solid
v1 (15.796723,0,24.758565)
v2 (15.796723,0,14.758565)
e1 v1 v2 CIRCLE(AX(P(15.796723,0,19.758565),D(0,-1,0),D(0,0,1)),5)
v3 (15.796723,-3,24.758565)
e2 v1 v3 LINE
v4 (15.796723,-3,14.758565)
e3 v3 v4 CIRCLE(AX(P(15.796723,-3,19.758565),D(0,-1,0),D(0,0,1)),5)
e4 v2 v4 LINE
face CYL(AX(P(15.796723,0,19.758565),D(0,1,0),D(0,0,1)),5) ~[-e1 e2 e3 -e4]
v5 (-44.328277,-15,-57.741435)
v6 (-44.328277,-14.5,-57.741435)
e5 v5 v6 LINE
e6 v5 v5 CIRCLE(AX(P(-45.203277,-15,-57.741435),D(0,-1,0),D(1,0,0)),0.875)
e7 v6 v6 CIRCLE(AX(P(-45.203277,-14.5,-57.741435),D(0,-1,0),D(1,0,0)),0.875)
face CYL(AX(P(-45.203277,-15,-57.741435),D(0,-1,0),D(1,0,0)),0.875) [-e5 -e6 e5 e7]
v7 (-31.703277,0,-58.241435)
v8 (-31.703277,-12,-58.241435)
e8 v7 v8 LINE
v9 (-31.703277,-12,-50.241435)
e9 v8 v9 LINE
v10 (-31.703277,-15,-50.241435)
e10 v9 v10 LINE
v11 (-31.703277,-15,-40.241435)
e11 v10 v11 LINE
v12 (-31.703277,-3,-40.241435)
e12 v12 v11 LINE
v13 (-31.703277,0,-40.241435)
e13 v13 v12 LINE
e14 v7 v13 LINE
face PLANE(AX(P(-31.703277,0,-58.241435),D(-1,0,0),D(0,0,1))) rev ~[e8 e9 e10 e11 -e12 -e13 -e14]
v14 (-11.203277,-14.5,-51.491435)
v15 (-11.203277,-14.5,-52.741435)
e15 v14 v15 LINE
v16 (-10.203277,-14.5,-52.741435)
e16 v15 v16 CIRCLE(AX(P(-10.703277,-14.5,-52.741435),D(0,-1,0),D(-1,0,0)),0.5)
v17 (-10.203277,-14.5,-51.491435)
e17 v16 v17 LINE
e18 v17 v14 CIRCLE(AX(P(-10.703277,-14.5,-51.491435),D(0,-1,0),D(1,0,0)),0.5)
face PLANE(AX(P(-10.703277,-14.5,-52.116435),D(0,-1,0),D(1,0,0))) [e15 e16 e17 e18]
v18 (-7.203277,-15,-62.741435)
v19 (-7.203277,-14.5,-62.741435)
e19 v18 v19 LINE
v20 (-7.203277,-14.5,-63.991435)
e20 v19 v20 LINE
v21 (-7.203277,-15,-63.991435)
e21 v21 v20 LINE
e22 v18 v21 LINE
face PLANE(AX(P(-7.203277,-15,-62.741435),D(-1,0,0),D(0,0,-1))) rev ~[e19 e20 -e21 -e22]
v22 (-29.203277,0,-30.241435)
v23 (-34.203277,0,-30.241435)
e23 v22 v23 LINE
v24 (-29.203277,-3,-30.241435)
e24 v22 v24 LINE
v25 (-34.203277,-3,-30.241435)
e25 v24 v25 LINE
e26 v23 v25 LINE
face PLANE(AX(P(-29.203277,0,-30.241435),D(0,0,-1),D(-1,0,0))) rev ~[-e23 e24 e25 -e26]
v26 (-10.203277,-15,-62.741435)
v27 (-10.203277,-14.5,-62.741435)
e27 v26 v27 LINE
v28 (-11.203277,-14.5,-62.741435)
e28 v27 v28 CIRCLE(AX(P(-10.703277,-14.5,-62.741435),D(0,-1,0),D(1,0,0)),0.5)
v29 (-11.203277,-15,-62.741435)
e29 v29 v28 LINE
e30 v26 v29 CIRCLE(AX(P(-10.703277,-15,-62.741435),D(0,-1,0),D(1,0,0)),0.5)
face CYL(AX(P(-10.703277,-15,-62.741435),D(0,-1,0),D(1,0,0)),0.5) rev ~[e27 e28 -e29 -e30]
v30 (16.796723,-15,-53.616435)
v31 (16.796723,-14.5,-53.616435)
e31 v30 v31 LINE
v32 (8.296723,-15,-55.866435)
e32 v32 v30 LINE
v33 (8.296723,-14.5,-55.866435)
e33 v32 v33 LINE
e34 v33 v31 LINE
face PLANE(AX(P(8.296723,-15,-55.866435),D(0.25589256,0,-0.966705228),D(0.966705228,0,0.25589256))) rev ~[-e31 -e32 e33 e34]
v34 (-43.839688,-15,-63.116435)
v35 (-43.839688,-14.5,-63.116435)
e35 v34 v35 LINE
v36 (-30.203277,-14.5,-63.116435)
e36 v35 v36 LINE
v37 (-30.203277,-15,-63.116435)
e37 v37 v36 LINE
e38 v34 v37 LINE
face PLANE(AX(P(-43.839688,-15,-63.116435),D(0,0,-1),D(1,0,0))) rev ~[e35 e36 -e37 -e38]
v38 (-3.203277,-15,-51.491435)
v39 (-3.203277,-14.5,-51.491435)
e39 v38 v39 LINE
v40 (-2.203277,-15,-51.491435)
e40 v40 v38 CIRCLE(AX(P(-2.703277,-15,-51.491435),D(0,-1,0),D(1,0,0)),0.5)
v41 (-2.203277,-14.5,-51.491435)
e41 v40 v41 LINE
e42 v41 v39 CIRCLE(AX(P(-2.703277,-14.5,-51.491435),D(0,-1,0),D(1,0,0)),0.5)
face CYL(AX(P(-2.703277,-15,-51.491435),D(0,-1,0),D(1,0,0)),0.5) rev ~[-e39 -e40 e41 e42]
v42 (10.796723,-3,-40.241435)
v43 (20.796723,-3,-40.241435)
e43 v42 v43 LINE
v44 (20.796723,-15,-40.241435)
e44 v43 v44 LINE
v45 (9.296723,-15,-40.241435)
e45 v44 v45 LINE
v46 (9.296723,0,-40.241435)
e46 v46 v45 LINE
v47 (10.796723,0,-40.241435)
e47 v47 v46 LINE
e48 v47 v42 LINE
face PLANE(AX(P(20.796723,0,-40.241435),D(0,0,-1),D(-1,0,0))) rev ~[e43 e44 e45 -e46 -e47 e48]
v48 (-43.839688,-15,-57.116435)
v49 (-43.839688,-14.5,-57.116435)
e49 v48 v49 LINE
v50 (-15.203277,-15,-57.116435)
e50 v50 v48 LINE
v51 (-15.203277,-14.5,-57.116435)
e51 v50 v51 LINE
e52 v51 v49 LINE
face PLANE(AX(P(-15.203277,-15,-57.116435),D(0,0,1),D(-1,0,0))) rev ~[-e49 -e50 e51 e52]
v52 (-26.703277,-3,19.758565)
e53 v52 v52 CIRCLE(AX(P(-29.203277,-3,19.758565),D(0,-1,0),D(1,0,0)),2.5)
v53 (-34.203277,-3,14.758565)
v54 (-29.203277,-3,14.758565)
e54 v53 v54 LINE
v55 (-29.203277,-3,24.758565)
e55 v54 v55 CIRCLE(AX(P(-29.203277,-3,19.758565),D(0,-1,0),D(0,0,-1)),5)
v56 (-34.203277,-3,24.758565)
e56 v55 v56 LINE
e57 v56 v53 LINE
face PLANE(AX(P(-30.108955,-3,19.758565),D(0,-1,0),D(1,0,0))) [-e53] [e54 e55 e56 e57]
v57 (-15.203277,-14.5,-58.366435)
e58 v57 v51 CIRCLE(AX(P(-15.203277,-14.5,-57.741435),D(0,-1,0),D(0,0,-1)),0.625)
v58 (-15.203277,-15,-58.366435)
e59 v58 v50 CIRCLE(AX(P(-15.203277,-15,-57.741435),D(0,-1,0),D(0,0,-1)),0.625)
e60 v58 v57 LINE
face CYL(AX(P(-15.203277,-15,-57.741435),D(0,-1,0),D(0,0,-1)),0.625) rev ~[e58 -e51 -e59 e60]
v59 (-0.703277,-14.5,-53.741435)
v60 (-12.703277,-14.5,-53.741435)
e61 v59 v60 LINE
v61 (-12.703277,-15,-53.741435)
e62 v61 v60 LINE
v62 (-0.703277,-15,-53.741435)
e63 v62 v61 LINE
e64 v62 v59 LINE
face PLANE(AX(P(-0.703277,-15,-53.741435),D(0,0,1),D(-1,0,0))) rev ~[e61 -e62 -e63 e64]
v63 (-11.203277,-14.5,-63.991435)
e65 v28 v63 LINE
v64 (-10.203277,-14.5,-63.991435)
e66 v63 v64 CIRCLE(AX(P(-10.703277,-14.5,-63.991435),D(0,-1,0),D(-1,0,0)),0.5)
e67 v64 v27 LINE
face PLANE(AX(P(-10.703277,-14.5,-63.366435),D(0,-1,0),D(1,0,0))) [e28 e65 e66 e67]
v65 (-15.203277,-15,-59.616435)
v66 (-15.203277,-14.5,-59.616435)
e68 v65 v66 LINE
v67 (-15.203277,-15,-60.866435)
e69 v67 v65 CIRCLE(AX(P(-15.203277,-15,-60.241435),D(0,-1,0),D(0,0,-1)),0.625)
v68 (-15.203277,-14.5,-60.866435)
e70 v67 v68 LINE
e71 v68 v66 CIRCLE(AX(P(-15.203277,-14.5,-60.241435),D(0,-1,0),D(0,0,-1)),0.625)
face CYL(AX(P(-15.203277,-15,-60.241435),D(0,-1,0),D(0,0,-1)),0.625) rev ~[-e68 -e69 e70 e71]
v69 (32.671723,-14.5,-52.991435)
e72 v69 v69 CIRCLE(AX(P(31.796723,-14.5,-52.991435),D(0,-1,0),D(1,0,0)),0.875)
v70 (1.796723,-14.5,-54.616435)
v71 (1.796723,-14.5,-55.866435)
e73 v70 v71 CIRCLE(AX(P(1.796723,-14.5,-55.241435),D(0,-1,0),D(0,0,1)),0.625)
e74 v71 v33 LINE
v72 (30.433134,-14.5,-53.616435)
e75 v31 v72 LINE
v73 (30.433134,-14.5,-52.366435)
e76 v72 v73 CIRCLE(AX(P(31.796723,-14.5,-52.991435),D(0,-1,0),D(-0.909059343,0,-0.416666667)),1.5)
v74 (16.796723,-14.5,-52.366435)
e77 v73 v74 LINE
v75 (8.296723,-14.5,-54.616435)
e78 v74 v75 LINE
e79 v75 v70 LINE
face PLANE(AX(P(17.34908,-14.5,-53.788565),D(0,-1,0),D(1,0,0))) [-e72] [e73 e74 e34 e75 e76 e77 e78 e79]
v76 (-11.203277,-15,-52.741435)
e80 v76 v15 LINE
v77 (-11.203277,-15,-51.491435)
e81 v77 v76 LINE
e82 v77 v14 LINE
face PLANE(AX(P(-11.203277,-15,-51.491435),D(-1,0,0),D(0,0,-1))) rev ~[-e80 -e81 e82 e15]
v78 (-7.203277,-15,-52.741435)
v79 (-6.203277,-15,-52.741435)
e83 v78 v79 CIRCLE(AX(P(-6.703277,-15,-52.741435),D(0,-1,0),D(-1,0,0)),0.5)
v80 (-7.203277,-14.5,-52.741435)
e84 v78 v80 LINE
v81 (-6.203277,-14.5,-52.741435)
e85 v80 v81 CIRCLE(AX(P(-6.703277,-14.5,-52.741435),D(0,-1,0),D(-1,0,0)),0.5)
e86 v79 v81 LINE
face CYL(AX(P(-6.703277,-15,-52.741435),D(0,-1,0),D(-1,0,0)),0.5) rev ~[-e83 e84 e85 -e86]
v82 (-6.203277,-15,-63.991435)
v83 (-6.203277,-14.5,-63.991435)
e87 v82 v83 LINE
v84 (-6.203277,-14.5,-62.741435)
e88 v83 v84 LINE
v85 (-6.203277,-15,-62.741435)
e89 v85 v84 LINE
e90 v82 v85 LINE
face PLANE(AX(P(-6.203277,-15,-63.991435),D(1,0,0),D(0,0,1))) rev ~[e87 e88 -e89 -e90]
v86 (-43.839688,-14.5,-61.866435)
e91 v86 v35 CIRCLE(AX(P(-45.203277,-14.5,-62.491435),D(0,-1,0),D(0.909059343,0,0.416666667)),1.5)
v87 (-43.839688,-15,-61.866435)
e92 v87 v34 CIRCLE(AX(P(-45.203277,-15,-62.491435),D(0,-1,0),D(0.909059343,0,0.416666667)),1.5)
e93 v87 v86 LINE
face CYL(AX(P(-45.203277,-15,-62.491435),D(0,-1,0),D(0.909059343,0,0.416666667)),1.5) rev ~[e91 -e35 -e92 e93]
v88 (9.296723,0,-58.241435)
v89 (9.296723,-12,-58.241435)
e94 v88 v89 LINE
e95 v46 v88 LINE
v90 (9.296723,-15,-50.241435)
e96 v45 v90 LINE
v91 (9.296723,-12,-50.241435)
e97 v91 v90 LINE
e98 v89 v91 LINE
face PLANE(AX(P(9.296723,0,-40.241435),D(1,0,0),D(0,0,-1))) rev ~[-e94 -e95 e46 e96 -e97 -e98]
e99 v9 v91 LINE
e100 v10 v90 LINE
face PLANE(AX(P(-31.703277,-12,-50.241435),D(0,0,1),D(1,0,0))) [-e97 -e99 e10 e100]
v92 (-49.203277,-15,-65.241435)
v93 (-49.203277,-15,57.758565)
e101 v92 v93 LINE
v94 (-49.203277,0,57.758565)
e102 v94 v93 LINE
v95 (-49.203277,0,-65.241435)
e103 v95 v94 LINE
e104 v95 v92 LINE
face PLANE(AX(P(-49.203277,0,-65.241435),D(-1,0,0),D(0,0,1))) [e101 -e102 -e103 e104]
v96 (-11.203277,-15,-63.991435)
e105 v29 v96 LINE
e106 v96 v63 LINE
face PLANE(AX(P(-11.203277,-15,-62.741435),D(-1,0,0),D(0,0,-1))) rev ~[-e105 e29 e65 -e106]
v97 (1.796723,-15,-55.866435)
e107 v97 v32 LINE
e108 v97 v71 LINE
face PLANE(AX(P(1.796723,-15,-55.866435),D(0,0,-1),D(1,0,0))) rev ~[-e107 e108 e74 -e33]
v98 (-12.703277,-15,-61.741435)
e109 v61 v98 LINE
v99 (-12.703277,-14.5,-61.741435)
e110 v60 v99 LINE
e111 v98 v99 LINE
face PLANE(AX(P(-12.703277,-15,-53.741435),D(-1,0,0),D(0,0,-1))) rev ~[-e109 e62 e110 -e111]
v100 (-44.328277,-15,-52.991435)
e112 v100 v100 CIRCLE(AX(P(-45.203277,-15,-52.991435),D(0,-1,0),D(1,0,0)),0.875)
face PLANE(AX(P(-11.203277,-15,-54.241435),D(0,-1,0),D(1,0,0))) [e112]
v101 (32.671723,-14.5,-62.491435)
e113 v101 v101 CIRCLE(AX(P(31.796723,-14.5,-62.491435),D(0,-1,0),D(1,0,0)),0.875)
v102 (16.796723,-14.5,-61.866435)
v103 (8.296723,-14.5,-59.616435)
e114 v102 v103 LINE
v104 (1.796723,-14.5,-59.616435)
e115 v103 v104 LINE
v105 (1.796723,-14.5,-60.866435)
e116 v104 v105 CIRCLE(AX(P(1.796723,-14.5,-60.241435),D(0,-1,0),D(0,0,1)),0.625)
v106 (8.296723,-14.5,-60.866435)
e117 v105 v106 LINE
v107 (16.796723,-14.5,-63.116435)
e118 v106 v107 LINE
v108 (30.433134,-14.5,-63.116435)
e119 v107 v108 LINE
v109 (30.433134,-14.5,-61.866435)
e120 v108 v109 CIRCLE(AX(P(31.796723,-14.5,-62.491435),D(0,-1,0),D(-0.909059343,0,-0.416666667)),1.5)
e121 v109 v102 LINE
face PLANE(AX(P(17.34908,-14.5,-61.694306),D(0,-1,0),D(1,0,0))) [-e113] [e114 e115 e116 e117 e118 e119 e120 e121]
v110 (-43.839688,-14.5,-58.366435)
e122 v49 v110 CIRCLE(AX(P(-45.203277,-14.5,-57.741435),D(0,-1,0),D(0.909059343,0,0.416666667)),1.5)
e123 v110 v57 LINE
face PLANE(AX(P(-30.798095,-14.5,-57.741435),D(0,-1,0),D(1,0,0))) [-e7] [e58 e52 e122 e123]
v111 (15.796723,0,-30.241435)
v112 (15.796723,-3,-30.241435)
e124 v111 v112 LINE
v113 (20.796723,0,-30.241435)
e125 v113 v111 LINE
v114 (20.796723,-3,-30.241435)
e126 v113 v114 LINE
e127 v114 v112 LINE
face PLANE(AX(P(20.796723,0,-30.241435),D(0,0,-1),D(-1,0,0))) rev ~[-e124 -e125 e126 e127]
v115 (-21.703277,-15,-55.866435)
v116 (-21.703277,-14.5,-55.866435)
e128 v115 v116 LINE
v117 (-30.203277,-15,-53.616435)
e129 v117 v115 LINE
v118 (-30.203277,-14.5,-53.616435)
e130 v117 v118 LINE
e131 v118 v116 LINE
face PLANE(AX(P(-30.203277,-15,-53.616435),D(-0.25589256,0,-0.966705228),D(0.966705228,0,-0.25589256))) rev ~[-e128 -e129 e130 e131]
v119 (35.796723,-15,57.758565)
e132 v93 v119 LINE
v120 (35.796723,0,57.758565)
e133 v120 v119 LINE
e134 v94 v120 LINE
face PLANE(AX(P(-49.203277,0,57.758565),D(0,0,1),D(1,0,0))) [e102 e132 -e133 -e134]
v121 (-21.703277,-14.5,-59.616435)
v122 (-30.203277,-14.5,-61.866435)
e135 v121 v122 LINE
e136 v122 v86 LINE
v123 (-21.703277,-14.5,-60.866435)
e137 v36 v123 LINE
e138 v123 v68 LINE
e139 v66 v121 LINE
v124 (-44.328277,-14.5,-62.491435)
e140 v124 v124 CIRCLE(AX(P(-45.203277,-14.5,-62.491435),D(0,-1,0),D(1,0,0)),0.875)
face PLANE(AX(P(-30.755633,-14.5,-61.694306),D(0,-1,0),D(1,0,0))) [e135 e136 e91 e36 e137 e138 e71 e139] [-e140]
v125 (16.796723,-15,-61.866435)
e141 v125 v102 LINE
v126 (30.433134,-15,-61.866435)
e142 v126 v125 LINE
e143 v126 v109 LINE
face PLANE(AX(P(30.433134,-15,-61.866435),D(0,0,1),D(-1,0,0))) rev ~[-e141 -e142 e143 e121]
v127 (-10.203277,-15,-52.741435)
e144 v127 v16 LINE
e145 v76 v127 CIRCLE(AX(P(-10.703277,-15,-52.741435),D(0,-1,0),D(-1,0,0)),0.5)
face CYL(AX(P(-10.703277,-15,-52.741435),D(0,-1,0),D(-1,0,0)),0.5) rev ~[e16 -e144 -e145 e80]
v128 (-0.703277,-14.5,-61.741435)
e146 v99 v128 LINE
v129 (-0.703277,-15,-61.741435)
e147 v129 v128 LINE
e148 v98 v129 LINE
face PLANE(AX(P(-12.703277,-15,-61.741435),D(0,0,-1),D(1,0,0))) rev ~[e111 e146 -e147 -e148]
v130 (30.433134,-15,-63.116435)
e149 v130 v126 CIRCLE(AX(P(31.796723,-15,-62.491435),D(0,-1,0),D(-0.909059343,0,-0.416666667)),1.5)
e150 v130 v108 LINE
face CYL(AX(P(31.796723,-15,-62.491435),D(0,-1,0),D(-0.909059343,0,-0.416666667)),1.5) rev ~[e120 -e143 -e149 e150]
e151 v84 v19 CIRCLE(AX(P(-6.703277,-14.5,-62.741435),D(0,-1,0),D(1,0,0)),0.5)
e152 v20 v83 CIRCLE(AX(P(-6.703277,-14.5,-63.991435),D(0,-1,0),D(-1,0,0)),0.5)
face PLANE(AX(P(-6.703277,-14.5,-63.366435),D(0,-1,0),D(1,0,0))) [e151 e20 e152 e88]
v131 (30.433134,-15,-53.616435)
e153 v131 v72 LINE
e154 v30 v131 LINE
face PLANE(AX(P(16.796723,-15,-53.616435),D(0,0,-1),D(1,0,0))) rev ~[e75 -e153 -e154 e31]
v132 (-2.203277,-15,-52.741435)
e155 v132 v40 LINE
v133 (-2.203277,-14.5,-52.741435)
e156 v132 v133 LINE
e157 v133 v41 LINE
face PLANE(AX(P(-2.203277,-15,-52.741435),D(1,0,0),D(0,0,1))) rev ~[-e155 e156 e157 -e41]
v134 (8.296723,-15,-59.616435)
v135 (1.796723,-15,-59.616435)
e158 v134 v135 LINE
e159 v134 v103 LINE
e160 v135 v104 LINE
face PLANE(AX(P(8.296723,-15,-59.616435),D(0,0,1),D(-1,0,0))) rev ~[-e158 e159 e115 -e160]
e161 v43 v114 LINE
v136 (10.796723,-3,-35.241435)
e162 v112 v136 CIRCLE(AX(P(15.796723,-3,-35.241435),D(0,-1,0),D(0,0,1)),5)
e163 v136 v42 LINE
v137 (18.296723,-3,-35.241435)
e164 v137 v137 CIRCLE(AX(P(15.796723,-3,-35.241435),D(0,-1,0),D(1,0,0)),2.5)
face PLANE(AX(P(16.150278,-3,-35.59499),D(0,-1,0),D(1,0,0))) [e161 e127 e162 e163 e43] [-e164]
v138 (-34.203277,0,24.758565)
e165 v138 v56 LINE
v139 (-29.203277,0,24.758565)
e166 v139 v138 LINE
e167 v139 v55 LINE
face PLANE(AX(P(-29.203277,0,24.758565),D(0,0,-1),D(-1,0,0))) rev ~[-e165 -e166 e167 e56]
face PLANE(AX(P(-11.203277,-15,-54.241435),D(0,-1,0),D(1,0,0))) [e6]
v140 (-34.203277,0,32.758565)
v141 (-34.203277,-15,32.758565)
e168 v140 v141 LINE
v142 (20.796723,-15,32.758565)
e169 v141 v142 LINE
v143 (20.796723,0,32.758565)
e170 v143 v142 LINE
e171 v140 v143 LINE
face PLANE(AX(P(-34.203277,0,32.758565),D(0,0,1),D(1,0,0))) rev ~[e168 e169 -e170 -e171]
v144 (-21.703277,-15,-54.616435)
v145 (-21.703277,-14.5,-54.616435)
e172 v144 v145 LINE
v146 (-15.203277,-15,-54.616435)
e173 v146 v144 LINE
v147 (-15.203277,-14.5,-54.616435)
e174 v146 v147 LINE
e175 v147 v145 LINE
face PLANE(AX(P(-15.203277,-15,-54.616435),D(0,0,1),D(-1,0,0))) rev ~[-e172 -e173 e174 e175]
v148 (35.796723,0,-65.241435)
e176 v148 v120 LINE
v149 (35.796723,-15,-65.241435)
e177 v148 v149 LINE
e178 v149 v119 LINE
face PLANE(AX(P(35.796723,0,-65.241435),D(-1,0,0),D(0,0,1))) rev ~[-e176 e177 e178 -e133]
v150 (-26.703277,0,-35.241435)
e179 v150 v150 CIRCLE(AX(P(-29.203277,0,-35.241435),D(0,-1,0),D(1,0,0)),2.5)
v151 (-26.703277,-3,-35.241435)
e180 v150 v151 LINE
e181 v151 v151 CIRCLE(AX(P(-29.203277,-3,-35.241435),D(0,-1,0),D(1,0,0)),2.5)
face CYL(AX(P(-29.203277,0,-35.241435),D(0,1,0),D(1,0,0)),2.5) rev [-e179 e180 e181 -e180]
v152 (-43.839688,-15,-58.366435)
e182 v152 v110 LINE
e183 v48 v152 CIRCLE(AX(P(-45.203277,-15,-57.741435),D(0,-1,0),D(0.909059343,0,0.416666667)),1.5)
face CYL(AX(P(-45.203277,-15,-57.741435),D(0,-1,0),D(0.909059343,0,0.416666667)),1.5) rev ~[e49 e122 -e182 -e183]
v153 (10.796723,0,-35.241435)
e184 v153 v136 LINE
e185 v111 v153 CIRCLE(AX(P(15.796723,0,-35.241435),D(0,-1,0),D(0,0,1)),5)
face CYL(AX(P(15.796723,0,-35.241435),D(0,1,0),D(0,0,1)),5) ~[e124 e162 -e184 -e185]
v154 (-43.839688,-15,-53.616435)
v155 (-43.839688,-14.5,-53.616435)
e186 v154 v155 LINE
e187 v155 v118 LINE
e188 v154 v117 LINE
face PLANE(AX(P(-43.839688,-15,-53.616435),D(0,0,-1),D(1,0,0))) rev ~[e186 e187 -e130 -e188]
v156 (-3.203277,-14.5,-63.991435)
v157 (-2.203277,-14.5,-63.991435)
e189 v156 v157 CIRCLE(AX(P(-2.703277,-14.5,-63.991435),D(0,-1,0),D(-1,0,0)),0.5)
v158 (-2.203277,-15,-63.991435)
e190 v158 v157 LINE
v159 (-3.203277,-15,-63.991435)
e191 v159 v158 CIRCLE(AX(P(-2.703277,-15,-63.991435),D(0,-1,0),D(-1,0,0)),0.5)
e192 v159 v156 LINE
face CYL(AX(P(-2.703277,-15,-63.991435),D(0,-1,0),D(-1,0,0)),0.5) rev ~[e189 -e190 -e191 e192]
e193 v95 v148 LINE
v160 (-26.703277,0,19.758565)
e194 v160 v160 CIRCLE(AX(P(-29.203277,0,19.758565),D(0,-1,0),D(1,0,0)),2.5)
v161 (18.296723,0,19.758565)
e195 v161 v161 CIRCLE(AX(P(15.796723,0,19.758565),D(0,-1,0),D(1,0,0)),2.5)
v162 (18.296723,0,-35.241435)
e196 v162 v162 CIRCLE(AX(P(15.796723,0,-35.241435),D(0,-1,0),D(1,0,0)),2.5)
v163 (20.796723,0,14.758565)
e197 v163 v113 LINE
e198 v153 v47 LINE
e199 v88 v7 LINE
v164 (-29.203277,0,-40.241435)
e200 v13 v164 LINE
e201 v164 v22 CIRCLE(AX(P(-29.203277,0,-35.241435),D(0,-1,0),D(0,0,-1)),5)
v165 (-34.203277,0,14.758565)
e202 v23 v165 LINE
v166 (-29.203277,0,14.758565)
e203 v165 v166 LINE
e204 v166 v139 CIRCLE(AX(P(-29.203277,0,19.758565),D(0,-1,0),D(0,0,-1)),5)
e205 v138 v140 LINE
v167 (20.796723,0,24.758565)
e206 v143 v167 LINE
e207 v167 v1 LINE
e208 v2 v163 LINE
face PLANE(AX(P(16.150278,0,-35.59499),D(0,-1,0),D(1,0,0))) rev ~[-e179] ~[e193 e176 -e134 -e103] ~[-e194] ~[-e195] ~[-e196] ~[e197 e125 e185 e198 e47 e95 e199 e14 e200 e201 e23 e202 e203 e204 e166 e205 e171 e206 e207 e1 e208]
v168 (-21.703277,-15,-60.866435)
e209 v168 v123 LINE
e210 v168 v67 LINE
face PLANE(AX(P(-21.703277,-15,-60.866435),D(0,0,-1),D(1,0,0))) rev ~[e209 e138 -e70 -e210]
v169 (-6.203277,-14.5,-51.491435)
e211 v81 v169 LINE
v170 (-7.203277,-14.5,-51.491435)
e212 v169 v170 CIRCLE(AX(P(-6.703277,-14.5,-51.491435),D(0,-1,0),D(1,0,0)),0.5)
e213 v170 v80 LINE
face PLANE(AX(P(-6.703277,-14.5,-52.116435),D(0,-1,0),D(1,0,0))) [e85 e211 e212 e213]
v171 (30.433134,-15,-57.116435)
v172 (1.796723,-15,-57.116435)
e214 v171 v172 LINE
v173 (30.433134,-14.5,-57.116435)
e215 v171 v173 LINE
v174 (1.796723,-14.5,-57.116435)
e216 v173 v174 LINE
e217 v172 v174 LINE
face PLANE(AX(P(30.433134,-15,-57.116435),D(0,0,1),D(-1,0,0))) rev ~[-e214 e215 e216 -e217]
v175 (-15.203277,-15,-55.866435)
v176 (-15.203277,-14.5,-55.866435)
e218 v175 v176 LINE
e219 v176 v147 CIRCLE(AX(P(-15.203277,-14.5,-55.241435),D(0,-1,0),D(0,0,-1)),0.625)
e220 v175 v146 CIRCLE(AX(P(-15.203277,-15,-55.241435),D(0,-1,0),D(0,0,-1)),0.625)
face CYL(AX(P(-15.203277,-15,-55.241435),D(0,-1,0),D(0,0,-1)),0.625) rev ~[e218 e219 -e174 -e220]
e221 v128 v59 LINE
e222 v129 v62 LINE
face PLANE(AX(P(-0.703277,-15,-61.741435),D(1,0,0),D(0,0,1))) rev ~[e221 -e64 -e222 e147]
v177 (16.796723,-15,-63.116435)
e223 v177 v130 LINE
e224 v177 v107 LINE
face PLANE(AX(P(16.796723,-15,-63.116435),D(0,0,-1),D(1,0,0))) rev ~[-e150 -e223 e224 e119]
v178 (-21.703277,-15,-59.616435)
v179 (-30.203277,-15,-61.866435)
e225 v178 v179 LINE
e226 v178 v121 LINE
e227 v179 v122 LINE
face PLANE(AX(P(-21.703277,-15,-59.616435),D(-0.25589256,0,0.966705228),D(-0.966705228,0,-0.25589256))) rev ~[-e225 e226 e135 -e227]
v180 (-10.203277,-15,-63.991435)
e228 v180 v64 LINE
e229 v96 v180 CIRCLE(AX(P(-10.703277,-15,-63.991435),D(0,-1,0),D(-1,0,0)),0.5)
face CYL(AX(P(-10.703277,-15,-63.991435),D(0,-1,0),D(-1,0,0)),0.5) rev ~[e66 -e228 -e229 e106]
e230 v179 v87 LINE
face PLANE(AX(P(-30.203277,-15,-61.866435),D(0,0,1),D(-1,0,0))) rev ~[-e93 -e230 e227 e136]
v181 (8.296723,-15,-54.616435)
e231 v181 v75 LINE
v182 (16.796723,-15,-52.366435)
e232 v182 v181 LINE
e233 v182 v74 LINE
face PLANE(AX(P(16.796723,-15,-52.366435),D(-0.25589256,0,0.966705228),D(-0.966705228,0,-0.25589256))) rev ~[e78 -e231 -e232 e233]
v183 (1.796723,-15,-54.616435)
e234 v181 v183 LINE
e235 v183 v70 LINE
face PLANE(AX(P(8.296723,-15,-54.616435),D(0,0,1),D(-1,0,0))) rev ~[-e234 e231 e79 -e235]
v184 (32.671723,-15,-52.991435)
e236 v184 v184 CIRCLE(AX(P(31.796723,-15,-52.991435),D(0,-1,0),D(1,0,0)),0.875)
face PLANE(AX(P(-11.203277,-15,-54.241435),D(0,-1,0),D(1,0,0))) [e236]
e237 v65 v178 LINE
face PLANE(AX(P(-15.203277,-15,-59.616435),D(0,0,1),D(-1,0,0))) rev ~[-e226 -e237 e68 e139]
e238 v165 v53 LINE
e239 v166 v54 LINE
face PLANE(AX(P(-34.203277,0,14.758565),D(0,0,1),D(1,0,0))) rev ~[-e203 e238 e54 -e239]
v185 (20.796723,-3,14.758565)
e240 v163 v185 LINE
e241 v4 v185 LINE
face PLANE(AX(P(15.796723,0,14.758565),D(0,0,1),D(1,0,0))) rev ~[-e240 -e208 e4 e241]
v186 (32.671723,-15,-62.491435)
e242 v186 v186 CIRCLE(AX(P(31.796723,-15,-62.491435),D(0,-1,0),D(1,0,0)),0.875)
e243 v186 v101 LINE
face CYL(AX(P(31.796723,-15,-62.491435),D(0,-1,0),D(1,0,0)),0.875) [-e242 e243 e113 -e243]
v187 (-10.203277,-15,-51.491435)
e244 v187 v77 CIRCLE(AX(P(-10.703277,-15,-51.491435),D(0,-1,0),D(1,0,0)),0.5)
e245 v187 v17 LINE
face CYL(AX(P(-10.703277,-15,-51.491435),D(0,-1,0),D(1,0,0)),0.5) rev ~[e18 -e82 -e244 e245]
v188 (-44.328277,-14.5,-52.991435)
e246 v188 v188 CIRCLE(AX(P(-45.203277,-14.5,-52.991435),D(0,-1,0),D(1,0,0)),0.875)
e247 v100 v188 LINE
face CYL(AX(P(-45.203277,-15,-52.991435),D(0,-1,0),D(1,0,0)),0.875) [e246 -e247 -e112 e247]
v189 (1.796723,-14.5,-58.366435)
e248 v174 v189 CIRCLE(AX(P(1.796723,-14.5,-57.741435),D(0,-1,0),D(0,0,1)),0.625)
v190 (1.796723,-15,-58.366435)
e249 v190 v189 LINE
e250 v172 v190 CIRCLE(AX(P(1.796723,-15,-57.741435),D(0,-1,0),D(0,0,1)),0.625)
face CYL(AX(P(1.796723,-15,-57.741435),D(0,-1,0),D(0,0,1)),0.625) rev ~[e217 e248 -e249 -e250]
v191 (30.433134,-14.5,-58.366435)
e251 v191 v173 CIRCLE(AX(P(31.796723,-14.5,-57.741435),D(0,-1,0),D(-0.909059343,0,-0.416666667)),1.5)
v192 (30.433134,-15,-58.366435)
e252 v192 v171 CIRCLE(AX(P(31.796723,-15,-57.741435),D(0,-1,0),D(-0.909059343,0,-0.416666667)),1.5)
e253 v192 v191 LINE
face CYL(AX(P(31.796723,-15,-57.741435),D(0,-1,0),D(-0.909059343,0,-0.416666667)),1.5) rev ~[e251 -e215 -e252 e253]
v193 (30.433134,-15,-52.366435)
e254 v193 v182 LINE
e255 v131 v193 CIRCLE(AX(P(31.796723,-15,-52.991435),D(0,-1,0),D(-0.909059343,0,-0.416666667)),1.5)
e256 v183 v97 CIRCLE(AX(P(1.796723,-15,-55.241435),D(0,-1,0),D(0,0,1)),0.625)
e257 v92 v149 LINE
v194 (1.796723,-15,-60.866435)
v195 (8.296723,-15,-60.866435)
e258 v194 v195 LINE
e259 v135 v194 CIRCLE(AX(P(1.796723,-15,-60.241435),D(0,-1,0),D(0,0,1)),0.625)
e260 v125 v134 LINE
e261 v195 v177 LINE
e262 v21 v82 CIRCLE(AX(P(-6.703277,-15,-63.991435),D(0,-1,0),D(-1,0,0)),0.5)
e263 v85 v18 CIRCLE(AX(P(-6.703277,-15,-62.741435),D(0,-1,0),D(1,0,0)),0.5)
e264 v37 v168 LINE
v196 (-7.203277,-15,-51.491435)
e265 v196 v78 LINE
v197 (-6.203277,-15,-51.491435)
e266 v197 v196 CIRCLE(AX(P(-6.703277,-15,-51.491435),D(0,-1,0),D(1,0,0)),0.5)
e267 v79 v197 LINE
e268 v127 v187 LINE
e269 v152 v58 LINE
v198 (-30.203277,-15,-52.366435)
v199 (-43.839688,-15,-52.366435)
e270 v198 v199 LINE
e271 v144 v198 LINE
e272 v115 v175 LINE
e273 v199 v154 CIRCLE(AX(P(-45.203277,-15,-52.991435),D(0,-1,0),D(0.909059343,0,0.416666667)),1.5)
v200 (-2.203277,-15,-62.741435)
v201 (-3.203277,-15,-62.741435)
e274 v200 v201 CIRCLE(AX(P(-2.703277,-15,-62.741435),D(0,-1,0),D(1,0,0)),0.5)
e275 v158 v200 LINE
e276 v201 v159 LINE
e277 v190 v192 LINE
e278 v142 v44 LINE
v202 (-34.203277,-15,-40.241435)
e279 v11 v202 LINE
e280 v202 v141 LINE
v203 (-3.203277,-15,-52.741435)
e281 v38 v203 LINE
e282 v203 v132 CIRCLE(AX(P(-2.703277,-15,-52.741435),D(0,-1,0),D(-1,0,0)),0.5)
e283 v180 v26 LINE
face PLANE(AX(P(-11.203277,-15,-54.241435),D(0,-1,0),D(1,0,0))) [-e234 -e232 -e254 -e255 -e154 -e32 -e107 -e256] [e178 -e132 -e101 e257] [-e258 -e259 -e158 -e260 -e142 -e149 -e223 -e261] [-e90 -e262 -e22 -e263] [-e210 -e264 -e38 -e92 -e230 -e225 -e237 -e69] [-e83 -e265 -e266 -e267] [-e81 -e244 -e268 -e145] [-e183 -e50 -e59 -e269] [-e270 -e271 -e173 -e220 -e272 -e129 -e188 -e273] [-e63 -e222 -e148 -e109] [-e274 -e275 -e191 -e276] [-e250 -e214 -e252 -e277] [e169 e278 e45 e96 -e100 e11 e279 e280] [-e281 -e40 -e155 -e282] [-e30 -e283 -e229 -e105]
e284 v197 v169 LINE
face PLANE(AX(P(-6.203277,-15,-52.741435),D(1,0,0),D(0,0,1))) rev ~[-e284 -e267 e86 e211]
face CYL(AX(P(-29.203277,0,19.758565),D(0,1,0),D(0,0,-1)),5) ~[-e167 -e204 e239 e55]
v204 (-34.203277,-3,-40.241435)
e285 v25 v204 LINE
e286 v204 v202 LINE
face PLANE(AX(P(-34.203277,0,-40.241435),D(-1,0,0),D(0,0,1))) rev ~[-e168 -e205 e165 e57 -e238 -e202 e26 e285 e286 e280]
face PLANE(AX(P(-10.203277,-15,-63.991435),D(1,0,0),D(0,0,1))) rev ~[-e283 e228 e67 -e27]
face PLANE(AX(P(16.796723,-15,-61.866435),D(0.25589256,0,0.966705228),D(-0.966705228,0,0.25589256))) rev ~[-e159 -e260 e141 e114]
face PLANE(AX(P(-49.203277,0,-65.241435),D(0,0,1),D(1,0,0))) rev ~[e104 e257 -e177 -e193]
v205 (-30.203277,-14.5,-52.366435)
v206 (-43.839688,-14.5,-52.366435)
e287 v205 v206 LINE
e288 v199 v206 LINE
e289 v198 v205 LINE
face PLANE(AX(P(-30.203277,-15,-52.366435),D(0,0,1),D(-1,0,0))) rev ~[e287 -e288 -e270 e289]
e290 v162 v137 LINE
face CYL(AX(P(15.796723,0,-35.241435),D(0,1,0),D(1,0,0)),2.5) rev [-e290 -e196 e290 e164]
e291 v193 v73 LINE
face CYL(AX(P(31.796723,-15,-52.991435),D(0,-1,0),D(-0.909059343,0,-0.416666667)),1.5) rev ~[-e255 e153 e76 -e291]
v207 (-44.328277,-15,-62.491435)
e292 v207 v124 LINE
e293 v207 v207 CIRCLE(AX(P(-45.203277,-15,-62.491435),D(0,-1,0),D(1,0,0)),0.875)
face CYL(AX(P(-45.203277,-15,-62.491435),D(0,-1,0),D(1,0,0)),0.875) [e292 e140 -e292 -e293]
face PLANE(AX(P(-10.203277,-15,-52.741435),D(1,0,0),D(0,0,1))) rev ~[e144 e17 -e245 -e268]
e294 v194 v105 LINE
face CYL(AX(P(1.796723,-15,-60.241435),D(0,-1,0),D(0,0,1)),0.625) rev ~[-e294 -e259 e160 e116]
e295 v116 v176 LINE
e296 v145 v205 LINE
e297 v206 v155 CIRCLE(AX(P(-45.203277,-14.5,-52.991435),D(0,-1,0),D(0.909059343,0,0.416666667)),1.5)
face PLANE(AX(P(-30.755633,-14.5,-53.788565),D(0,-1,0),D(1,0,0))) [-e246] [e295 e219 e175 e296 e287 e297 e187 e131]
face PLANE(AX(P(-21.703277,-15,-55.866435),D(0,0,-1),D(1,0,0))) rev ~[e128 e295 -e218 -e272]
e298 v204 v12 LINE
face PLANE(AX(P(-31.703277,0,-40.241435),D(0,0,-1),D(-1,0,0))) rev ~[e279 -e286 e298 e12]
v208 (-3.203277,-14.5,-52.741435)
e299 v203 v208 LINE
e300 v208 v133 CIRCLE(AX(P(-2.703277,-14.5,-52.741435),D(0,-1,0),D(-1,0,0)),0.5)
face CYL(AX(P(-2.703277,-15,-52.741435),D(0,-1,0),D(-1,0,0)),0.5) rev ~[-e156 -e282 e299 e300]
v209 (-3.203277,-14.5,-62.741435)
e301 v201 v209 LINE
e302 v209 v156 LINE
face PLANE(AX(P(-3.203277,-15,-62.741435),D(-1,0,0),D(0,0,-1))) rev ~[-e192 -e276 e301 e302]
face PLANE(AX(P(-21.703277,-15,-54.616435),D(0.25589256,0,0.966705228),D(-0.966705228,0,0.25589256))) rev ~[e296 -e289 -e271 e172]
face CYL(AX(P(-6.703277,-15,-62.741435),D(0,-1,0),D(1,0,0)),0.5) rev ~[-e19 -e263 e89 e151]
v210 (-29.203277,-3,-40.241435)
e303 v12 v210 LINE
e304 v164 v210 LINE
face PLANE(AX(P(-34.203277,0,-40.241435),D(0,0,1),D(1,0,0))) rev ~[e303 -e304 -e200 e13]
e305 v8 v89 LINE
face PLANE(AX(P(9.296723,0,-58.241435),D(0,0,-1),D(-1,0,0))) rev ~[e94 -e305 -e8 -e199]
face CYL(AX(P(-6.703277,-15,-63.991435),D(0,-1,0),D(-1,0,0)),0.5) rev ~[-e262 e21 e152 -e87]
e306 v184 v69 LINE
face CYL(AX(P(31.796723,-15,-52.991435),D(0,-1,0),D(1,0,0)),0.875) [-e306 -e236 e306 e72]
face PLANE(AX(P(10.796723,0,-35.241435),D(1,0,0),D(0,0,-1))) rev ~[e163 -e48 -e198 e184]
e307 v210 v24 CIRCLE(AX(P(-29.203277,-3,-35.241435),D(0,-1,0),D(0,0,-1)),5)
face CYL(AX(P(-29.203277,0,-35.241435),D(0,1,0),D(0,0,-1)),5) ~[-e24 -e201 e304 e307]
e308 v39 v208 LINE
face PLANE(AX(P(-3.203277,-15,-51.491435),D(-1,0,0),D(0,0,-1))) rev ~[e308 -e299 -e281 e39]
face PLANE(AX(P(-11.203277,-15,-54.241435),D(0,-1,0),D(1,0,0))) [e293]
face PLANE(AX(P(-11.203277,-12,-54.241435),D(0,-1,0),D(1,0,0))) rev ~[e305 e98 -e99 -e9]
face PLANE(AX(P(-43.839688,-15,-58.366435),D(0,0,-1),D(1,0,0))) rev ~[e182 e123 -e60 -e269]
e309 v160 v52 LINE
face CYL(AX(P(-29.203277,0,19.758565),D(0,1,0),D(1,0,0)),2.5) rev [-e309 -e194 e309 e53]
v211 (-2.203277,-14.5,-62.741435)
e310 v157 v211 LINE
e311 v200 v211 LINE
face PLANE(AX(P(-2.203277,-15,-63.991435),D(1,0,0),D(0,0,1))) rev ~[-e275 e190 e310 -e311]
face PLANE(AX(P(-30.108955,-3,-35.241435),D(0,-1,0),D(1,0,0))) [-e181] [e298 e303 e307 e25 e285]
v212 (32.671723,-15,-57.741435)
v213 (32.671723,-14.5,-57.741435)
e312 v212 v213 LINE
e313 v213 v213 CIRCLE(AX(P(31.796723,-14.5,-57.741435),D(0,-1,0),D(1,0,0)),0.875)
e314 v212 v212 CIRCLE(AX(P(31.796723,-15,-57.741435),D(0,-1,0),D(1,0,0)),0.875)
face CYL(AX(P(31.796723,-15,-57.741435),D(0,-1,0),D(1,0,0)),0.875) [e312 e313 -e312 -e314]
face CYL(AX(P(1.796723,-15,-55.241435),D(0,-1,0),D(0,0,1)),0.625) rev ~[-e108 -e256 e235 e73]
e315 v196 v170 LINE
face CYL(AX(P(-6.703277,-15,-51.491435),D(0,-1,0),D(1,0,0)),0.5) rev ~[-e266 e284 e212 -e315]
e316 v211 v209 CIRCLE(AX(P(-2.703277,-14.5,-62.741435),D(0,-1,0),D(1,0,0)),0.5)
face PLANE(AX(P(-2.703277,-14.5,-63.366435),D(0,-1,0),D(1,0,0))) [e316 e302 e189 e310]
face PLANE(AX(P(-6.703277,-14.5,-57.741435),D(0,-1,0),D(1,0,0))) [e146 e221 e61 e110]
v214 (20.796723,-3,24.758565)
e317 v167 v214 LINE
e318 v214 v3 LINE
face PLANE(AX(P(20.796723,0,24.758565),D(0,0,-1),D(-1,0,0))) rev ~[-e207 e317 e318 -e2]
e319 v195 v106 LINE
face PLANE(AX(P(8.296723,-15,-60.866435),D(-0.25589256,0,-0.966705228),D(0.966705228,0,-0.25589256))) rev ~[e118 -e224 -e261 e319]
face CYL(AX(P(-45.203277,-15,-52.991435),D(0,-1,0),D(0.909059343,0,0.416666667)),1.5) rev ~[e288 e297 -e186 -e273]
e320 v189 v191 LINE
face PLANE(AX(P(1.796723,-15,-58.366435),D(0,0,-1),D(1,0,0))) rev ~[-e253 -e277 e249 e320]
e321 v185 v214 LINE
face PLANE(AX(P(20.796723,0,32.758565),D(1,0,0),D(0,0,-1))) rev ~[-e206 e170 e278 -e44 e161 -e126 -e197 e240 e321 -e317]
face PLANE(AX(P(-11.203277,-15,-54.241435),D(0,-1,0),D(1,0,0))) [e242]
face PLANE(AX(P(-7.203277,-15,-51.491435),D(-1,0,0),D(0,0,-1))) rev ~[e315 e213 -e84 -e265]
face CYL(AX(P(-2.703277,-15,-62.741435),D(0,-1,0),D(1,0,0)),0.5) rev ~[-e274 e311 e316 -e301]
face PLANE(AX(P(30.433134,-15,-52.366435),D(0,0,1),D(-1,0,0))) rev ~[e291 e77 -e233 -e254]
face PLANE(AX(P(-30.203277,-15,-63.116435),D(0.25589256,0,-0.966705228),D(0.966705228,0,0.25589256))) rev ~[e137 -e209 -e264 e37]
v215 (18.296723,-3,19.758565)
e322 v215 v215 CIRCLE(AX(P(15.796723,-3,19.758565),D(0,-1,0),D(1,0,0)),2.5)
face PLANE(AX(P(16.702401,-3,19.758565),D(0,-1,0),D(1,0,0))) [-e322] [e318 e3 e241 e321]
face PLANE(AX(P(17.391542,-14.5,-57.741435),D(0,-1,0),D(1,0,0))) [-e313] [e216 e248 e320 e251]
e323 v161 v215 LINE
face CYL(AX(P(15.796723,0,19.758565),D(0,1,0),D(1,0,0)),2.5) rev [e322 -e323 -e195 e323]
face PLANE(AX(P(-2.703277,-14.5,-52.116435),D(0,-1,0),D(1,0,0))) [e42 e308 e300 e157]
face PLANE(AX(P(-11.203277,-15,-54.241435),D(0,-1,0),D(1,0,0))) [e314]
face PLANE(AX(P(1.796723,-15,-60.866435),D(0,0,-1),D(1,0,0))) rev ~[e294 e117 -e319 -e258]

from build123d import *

# Parameters (mm, degrees)
F0_W     = 85
F0_H     = 123
F1_DEPTH = 15
F0_R     = 2.5
F2_DEPTH = 3
F3_START = 12
F0_W_2   = 41
F0_H_2   = 8
F3_DEPTH = 3
F4_R     = 0.875
F5_DEPTH = 0.5


with BuildPart() as f1:
    # F0 (on Front) → F1 (new body)
    with BuildSketch(Plane.XZ):
        with Locations((-6.7032766342, -3.7414353937)):
            Rectangle(F0_W, F0_H)
        Polygon((-34.2032766342, 24.7585646063), (-34.2032766342, 32.7585646063), (20.7967233658, 32.7585646063), (20.7967233658, 24.7585646063), (20.7967233658, 14.7585646063), (20.7967233658, -30.2414353937), (20.7967233658, -40.2414353937), (15.7967233658, -40.2414353937), (10.7967233658, -40.2414353937), (9.2967233658, -40.2414353937), (9.2967233658, -50.2414353937), (9.2967233658, -58.2414353937), (-31.7032766342, -58.2414353937), (-31.7032766342, -50.2414353937), (-31.7032766342, -40.2414353937), (-34.2032766342, -40.2414353937), (-34.2032766342, -30.2414353937), (-34.2032766342, 14.7585646063), align=None, mode=Mode.SUBTRACT)
    extrude(amount=F1_DEPTH)

    # F0 (on Front) → F2 (join)
    with BuildSketch(Plane.XZ):
        with BuildLine():
            Line((-29.2032766342, 24.7585646063), (-34.2032766342, 24.7585646063))
            Line((-34.2032766342, 24.7585646063), (-34.2032766342, 14.7585646063))
            Line((-34.2032766342, 14.7585646063), (-29.2032766342, 14.7585646063))
            ThreePointArc((-29.2032766342, 14.7585646063), (-24.2032766342, 19.7585646063), (-29.2032766342, 24.7585646063))
        make_face()
        with Locations((-29.2032766342, 19.7585646063)):
            Circle(F0_R, mode=Mode.SUBTRACT)
        with BuildLine():
            Line((20.7967233658, 14.7585646063), (20.7967233658, 24.7585646063))
            Line((20.7967233658, 24.7585646063), (15.7967233658, 24.7585646063))
            ThreePointArc((15.7967233658, 24.7585646063), (10.7967233658, 19.7585646063), (15.7967233658, 14.7585646063))
            Line((15.7967233658, 14.7585646063), (20.7967233658, 14.7585646063))
        make_face()
        with Locations((15.7967233658, 19.7585646063)):
            Circle(F0_R, mode=Mode.SUBTRACT)
        with BuildLine():
            Line((20.7967233658, -40.2414353937), (20.7967233658, -30.2414353937))
            Line((20.7967233658, -30.2414353937), (15.7967233658, -30.2414353937))
            ThreePointArc((15.7967233658, -30.2414353937), (12.2611894599, -31.7059014878), (10.7967233658, -35.2414353937))
            Line((10.7967233658, -35.2414353937), (10.7967233658, -40.2414353937))
            Line((10.7967233658, -40.2414353937), (15.7967233658, -40.2414353937))
            Line((15.7967233658, -40.2414353937), (20.7967233658, -40.2414353937))
        make_face()
        with Locations((15.7967233658, -35.2414353937)):
            Circle(F0_R, mode=Mode.SUBTRACT)
        with BuildLine():
            Line((-29.2032766342, -30.2414353937), (-34.2032766342, -30.2414353937))
            Line((-34.2032766342, -30.2414353937), (-34.2032766342, -40.2414353937))
            Line((-34.2032766342, -40.2414353937), (-31.7032766342, -40.2414353937))
            Line((-31.7032766342, -40.2414353937), (-29.2032766342, -40.2414353937))
            ThreePointArc((-29.2032766342, -40.2414353937), (-24.2032766342, -35.2414353937), (-29.2032766342, -30.2414353937))
        make_face()
        with Locations((-29.2032766342, -35.2414353937)):
            Circle(F0_R, mode=Mode.SUBTRACT)
    extrude(amount=F2_DEPTH)

    # F0 (on Front) → F3 (join)
    with BuildSketch(Plane.XZ.offset(F3_START)):
        with Locations((-11.2032766342, -54.2414353937)):
            Rectangle(F0_W_2, F0_H_2)
    extrude(amount=F3_DEPTH)

    # F4 (on face) → F5 (cut)
    with BuildSketch(Plane.XZ.offset(15)):
        with BuildLine():
            Line((-30.2032766342, -52.3664353937), (-43.8396876199, -52.3664353937))
            ThreePointArc((-43.8396876199, -52.3664353937), (-46.7032766342, -52.9914353937), (-43.8396876199, -53.6164353937))
            Line((-43.8396876199, -53.6164353937), (-30.2032766342, -53.6164353937))
            Line((-30.2032766342, -53.6164353937), (-21.7032766342, -55.8664353937))
            Line((-21.7032766342, -55.8664353937), (-15.2032766342, -55.8664353937))
            ThreePointArc((-15.2032766342, -55.8664353937), (-14.5782766342, -55.2414353937), (-15.2032766342, -54.6164353937))
            Line((-15.2032766342, -54.6164353937), (-21.7032766342, -54.6164353937))
            Line((-21.7032766342, -54.6164353937), (-30.2032766342, -52.3664353937))
        make_face()
        with Locations((-45.2032766342, -52.9914353937)):
            Circle(F4_R, mode=Mode.SUBTRACT)
        with BuildLine():
            Line((-15.2032766342, -57.1164353937), (-43.8396876199, -57.1164353937))
            ThreePointArc((-43.8396876199, -57.1164353937), (-46.7032766342, -57.7414353937), (-43.8396876199, -58.3664353937))
            Line((-43.8396876199, -58.3664353937), (-15.2032766342, -58.3664353937))
            ThreePointArc((-15.2032766342, -58.3664353937), (-14.5782766342, -57.7414353937), (-15.2032766342, -57.1164353937))
        make_face()
        with Locations((-45.2032766342, -57.7414353937)):
            Circle(F4_R, mode=Mode.SUBTRACT)
        with BuildLine():
            Line((-30.2032766342, -61.8664353937), (-43.8396876199, -61.8664353937))
            ThreePointArc((-43.8396876199, -61.8664353937), (-46.7032766342, -62.4914353937), (-43.8396876199, -63.1164353937))
            Line((-43.8396876199, -63.1164353937), (-30.2032766342, -63.1164353937))
            Line((-30.2032766342, -63.1164353937), (-21.7032766342, -60.8664353937))
            Line((-21.7032766342, -60.8664353937), (-15.2032766342, -60.8664353937))
            ThreePointArc((-15.2032766342, -60.8664353937), (-14.5782766342, -60.2414353937), (-15.2032766342, -59.6164353937))
            Line((-15.2032766342, -59.6164353937), (-21.7032766342, -59.6164353937))
            Line((-21.7032766342, -59.6164353937), (-30.2032766342, -61.8664353937))
        make_face()
        with Locations((-45.2032766342, -62.4914353937)):
            Circle(F4_R, mode=Mode.SUBTRACT)
        with BuildLine():
            Line((16.7967233658, -53.6164353937), (30.4331343515, -53.6164353937))
            ThreePointArc((30.4331343515, -53.6164353937), (33.2967233658, -52.9914353937), (30.4331343515, -52.3664353937))
            Line((30.4331343515, -52.3664353937), (16.7967233658, -52.3664353937))
            Line((16.7967233658, -52.3664353937), (8.2967233658, -54.6164353937))
            Line((8.2967233658, -54.6164353937), (1.7967233658, -54.6164353937))
            ThreePointArc((1.7967233658, -54.6164353937), (1.1717233658, -55.2414353937), (1.7967233658, -55.8664353937))
            Line((1.7967233658, -55.8664353937), (8.2967233658, -55.8664353937))
            Line((8.2967233658, -55.8664353937), (16.7967233658, -53.6164353937))
        make_face()
        with Locations((31.7967233658, -52.9914353937)):
            Circle(F4_R, mode=Mode.SUBTRACT)
        with BuildLine():
            Line((1.7967233658, -58.3664353937), (30.4331343515, -58.3664353937))
            ThreePointArc((30.4331343515, -58.3664353937), (33.2967233658, -57.7414353937), (30.4331343515, -57.1164353937))
            Line((30.4331343515, -57.1164353937), (1.7967233658, -57.1164353937))
            ThreePointArc((1.7967233658, -57.1164353937), (1.1717233658, -57.7414353937), (1.7967233658, -58.3664353937))
        make_face()
        with Locations((31.7967233658, -57.7414353937)):
            Circle(F4_R, mode=Mode.SUBTRACT)
        with BuildLine():
            Line((16.7967233658, -63.1164353937), (30.4331343515, -63.1164353937))
            ThreePointArc((30.4331343515, -63.1164353937), (33.2967233658, -62.4914353937), (30.4331343515, -61.8664353937))
            Line((30.4331343515, -61.8664353937), (16.7967233658, -61.8664353937))
            Line((16.7967233658, -61.8664353937), (8.2967233658, -59.6164353937))
            Line((8.2967233658, -59.6164353937), (1.7967233658, -59.6164353937))
            ThreePointArc((1.7967233658, -59.6164353937), (1.1717233658, -60.2414353937), (1.7967233658, -60.8664353937))
            Line((1.7967233658, -60.8664353937), (8.2967233658, -60.8664353937))
            Line((8.2967233658, -60.8664353937), (16.7967233658, -63.1164353937))
        make_face()
        with Locations((31.7967233658, -62.4914353937)):
            Circle(F4_R, mode=Mode.SUBTRACT)
        Polygon((-12.7032766342, -61.7414353937), (-6.7032766342, -61.7414353937), (-0.7032766342, -61.7414353937), (-0.7032766342, -57.7414353937), (-0.7032766342, -53.7414353937), (-6.7032766342, -53.7414353937), (-12.7032766342, -53.7414353937), (-12.7032766342, -57.7414353937), align=None)
        with BuildLine():
            Line((-6.2032766342, -52.7414353937), (-6.2032766342, -51.4914353937))
            ThreePointArc((-6.2032766342, -51.4914353937), (-6.7032766342, -50.9914353937), (-7.2032766342, -51.4914353937))
            Line((-7.2032766342, -51.4914353937), (-7.2032766342, -52.7414353937))
            ThreePointArc((-7.2032766342, -52.7414353937), (-6.7032766342, -53.2414353937), (-6.2032766342, -52.7414353937))
        make_face()
        with BuildLine():
            Line((-2.2032766342, -52.7414353937), (-2.2032766342, -51.4914353937))
            ThreePointArc((-2.2032766342, -51.4914353937), (-2.7032766342, -50.9914353937), (-3.2032766342, -51.4914353937))
            Line((-3.2032766342, -51.4914353937), (-3.2032766342, -52.7414353937))
            ThreePointArc((-3.2032766342, -52.7414353937), (-2.7032766342, -53.2414353937), (-2.2032766342, -52.7414353937))
        make_face()
        with BuildLine():
            ThreePointArc((-11.2032766342, -52.7414353937), (-10.7032766342, -53.2414353937), (-10.2032766342, -52.7414353937))
            Line((-10.2032766342, -52.7414353937), (-10.2032766342, -51.4914353937))
            ThreePointArc((-10.2032766342, -51.4914353937), (-10.7032766342, -50.9914353937), (-11.2032766342, -51.4914353937))
            Line((-11.2032766342, -51.4914353937), (-11.2032766342, -52.7414353937))
        make_face()
        with BuildLine():
            Line((-11.2032766342, -62.7414353937), (-11.2032766342, -63.9914353937))
            ThreePointArc((-11.2032766342, -63.9914353937), (-10.7032766342, -64.4914353937), (-10.2032766342, -63.9914353937))
            Line((-10.2032766342, -63.9914353937), (-10.2032766342, -62.7414353937))
            ThreePointArc((-10.2032766342, -62.7414353937), (-10.7032766342, -62.2414353937), (-11.2032766342, -62.7414353937))
        make_face()
        with BuildLine():
            Line((-3.2032766342, -62.7414353937), (-3.2032766342, -63.9914353937))
            ThreePointArc((-3.2032766342, -63.9914353937), (-2.7032766342, -64.4914353937), (-2.2032766342, -63.9914353937))
            Line((-2.2032766342, -63.9914353937), (-2.2032766342, -62.7414353937))
            ThreePointArc((-2.2032766342, -62.7414353937), (-2.7032766342, -62.2414353937), (-3.2032766342, -62.7414353937))
        make_face()
        with BuildLine():
            ThreePointArc((-6.2032766342, -62.7414353937), (-6.7032766342, -62.2414353937), (-7.2032766342, -62.7414353937))
            Line((-7.2032766342, -62.7414353937), (-7.2032766342, -63.9914353937))
            ThreePointArc((-7.2032766342, -63.9914353937), (-6.7032766342, -64.4914353937), (-6.2032766342, -63.9914353937))
            Line((-6.2032766342, -63.9914353937), (-6.2032766342, -62.7414353937))
        make_face()
    extrude(amount=-F5_DEPTH, mode=Mode.SUBTRACT)


solid = f1.part
